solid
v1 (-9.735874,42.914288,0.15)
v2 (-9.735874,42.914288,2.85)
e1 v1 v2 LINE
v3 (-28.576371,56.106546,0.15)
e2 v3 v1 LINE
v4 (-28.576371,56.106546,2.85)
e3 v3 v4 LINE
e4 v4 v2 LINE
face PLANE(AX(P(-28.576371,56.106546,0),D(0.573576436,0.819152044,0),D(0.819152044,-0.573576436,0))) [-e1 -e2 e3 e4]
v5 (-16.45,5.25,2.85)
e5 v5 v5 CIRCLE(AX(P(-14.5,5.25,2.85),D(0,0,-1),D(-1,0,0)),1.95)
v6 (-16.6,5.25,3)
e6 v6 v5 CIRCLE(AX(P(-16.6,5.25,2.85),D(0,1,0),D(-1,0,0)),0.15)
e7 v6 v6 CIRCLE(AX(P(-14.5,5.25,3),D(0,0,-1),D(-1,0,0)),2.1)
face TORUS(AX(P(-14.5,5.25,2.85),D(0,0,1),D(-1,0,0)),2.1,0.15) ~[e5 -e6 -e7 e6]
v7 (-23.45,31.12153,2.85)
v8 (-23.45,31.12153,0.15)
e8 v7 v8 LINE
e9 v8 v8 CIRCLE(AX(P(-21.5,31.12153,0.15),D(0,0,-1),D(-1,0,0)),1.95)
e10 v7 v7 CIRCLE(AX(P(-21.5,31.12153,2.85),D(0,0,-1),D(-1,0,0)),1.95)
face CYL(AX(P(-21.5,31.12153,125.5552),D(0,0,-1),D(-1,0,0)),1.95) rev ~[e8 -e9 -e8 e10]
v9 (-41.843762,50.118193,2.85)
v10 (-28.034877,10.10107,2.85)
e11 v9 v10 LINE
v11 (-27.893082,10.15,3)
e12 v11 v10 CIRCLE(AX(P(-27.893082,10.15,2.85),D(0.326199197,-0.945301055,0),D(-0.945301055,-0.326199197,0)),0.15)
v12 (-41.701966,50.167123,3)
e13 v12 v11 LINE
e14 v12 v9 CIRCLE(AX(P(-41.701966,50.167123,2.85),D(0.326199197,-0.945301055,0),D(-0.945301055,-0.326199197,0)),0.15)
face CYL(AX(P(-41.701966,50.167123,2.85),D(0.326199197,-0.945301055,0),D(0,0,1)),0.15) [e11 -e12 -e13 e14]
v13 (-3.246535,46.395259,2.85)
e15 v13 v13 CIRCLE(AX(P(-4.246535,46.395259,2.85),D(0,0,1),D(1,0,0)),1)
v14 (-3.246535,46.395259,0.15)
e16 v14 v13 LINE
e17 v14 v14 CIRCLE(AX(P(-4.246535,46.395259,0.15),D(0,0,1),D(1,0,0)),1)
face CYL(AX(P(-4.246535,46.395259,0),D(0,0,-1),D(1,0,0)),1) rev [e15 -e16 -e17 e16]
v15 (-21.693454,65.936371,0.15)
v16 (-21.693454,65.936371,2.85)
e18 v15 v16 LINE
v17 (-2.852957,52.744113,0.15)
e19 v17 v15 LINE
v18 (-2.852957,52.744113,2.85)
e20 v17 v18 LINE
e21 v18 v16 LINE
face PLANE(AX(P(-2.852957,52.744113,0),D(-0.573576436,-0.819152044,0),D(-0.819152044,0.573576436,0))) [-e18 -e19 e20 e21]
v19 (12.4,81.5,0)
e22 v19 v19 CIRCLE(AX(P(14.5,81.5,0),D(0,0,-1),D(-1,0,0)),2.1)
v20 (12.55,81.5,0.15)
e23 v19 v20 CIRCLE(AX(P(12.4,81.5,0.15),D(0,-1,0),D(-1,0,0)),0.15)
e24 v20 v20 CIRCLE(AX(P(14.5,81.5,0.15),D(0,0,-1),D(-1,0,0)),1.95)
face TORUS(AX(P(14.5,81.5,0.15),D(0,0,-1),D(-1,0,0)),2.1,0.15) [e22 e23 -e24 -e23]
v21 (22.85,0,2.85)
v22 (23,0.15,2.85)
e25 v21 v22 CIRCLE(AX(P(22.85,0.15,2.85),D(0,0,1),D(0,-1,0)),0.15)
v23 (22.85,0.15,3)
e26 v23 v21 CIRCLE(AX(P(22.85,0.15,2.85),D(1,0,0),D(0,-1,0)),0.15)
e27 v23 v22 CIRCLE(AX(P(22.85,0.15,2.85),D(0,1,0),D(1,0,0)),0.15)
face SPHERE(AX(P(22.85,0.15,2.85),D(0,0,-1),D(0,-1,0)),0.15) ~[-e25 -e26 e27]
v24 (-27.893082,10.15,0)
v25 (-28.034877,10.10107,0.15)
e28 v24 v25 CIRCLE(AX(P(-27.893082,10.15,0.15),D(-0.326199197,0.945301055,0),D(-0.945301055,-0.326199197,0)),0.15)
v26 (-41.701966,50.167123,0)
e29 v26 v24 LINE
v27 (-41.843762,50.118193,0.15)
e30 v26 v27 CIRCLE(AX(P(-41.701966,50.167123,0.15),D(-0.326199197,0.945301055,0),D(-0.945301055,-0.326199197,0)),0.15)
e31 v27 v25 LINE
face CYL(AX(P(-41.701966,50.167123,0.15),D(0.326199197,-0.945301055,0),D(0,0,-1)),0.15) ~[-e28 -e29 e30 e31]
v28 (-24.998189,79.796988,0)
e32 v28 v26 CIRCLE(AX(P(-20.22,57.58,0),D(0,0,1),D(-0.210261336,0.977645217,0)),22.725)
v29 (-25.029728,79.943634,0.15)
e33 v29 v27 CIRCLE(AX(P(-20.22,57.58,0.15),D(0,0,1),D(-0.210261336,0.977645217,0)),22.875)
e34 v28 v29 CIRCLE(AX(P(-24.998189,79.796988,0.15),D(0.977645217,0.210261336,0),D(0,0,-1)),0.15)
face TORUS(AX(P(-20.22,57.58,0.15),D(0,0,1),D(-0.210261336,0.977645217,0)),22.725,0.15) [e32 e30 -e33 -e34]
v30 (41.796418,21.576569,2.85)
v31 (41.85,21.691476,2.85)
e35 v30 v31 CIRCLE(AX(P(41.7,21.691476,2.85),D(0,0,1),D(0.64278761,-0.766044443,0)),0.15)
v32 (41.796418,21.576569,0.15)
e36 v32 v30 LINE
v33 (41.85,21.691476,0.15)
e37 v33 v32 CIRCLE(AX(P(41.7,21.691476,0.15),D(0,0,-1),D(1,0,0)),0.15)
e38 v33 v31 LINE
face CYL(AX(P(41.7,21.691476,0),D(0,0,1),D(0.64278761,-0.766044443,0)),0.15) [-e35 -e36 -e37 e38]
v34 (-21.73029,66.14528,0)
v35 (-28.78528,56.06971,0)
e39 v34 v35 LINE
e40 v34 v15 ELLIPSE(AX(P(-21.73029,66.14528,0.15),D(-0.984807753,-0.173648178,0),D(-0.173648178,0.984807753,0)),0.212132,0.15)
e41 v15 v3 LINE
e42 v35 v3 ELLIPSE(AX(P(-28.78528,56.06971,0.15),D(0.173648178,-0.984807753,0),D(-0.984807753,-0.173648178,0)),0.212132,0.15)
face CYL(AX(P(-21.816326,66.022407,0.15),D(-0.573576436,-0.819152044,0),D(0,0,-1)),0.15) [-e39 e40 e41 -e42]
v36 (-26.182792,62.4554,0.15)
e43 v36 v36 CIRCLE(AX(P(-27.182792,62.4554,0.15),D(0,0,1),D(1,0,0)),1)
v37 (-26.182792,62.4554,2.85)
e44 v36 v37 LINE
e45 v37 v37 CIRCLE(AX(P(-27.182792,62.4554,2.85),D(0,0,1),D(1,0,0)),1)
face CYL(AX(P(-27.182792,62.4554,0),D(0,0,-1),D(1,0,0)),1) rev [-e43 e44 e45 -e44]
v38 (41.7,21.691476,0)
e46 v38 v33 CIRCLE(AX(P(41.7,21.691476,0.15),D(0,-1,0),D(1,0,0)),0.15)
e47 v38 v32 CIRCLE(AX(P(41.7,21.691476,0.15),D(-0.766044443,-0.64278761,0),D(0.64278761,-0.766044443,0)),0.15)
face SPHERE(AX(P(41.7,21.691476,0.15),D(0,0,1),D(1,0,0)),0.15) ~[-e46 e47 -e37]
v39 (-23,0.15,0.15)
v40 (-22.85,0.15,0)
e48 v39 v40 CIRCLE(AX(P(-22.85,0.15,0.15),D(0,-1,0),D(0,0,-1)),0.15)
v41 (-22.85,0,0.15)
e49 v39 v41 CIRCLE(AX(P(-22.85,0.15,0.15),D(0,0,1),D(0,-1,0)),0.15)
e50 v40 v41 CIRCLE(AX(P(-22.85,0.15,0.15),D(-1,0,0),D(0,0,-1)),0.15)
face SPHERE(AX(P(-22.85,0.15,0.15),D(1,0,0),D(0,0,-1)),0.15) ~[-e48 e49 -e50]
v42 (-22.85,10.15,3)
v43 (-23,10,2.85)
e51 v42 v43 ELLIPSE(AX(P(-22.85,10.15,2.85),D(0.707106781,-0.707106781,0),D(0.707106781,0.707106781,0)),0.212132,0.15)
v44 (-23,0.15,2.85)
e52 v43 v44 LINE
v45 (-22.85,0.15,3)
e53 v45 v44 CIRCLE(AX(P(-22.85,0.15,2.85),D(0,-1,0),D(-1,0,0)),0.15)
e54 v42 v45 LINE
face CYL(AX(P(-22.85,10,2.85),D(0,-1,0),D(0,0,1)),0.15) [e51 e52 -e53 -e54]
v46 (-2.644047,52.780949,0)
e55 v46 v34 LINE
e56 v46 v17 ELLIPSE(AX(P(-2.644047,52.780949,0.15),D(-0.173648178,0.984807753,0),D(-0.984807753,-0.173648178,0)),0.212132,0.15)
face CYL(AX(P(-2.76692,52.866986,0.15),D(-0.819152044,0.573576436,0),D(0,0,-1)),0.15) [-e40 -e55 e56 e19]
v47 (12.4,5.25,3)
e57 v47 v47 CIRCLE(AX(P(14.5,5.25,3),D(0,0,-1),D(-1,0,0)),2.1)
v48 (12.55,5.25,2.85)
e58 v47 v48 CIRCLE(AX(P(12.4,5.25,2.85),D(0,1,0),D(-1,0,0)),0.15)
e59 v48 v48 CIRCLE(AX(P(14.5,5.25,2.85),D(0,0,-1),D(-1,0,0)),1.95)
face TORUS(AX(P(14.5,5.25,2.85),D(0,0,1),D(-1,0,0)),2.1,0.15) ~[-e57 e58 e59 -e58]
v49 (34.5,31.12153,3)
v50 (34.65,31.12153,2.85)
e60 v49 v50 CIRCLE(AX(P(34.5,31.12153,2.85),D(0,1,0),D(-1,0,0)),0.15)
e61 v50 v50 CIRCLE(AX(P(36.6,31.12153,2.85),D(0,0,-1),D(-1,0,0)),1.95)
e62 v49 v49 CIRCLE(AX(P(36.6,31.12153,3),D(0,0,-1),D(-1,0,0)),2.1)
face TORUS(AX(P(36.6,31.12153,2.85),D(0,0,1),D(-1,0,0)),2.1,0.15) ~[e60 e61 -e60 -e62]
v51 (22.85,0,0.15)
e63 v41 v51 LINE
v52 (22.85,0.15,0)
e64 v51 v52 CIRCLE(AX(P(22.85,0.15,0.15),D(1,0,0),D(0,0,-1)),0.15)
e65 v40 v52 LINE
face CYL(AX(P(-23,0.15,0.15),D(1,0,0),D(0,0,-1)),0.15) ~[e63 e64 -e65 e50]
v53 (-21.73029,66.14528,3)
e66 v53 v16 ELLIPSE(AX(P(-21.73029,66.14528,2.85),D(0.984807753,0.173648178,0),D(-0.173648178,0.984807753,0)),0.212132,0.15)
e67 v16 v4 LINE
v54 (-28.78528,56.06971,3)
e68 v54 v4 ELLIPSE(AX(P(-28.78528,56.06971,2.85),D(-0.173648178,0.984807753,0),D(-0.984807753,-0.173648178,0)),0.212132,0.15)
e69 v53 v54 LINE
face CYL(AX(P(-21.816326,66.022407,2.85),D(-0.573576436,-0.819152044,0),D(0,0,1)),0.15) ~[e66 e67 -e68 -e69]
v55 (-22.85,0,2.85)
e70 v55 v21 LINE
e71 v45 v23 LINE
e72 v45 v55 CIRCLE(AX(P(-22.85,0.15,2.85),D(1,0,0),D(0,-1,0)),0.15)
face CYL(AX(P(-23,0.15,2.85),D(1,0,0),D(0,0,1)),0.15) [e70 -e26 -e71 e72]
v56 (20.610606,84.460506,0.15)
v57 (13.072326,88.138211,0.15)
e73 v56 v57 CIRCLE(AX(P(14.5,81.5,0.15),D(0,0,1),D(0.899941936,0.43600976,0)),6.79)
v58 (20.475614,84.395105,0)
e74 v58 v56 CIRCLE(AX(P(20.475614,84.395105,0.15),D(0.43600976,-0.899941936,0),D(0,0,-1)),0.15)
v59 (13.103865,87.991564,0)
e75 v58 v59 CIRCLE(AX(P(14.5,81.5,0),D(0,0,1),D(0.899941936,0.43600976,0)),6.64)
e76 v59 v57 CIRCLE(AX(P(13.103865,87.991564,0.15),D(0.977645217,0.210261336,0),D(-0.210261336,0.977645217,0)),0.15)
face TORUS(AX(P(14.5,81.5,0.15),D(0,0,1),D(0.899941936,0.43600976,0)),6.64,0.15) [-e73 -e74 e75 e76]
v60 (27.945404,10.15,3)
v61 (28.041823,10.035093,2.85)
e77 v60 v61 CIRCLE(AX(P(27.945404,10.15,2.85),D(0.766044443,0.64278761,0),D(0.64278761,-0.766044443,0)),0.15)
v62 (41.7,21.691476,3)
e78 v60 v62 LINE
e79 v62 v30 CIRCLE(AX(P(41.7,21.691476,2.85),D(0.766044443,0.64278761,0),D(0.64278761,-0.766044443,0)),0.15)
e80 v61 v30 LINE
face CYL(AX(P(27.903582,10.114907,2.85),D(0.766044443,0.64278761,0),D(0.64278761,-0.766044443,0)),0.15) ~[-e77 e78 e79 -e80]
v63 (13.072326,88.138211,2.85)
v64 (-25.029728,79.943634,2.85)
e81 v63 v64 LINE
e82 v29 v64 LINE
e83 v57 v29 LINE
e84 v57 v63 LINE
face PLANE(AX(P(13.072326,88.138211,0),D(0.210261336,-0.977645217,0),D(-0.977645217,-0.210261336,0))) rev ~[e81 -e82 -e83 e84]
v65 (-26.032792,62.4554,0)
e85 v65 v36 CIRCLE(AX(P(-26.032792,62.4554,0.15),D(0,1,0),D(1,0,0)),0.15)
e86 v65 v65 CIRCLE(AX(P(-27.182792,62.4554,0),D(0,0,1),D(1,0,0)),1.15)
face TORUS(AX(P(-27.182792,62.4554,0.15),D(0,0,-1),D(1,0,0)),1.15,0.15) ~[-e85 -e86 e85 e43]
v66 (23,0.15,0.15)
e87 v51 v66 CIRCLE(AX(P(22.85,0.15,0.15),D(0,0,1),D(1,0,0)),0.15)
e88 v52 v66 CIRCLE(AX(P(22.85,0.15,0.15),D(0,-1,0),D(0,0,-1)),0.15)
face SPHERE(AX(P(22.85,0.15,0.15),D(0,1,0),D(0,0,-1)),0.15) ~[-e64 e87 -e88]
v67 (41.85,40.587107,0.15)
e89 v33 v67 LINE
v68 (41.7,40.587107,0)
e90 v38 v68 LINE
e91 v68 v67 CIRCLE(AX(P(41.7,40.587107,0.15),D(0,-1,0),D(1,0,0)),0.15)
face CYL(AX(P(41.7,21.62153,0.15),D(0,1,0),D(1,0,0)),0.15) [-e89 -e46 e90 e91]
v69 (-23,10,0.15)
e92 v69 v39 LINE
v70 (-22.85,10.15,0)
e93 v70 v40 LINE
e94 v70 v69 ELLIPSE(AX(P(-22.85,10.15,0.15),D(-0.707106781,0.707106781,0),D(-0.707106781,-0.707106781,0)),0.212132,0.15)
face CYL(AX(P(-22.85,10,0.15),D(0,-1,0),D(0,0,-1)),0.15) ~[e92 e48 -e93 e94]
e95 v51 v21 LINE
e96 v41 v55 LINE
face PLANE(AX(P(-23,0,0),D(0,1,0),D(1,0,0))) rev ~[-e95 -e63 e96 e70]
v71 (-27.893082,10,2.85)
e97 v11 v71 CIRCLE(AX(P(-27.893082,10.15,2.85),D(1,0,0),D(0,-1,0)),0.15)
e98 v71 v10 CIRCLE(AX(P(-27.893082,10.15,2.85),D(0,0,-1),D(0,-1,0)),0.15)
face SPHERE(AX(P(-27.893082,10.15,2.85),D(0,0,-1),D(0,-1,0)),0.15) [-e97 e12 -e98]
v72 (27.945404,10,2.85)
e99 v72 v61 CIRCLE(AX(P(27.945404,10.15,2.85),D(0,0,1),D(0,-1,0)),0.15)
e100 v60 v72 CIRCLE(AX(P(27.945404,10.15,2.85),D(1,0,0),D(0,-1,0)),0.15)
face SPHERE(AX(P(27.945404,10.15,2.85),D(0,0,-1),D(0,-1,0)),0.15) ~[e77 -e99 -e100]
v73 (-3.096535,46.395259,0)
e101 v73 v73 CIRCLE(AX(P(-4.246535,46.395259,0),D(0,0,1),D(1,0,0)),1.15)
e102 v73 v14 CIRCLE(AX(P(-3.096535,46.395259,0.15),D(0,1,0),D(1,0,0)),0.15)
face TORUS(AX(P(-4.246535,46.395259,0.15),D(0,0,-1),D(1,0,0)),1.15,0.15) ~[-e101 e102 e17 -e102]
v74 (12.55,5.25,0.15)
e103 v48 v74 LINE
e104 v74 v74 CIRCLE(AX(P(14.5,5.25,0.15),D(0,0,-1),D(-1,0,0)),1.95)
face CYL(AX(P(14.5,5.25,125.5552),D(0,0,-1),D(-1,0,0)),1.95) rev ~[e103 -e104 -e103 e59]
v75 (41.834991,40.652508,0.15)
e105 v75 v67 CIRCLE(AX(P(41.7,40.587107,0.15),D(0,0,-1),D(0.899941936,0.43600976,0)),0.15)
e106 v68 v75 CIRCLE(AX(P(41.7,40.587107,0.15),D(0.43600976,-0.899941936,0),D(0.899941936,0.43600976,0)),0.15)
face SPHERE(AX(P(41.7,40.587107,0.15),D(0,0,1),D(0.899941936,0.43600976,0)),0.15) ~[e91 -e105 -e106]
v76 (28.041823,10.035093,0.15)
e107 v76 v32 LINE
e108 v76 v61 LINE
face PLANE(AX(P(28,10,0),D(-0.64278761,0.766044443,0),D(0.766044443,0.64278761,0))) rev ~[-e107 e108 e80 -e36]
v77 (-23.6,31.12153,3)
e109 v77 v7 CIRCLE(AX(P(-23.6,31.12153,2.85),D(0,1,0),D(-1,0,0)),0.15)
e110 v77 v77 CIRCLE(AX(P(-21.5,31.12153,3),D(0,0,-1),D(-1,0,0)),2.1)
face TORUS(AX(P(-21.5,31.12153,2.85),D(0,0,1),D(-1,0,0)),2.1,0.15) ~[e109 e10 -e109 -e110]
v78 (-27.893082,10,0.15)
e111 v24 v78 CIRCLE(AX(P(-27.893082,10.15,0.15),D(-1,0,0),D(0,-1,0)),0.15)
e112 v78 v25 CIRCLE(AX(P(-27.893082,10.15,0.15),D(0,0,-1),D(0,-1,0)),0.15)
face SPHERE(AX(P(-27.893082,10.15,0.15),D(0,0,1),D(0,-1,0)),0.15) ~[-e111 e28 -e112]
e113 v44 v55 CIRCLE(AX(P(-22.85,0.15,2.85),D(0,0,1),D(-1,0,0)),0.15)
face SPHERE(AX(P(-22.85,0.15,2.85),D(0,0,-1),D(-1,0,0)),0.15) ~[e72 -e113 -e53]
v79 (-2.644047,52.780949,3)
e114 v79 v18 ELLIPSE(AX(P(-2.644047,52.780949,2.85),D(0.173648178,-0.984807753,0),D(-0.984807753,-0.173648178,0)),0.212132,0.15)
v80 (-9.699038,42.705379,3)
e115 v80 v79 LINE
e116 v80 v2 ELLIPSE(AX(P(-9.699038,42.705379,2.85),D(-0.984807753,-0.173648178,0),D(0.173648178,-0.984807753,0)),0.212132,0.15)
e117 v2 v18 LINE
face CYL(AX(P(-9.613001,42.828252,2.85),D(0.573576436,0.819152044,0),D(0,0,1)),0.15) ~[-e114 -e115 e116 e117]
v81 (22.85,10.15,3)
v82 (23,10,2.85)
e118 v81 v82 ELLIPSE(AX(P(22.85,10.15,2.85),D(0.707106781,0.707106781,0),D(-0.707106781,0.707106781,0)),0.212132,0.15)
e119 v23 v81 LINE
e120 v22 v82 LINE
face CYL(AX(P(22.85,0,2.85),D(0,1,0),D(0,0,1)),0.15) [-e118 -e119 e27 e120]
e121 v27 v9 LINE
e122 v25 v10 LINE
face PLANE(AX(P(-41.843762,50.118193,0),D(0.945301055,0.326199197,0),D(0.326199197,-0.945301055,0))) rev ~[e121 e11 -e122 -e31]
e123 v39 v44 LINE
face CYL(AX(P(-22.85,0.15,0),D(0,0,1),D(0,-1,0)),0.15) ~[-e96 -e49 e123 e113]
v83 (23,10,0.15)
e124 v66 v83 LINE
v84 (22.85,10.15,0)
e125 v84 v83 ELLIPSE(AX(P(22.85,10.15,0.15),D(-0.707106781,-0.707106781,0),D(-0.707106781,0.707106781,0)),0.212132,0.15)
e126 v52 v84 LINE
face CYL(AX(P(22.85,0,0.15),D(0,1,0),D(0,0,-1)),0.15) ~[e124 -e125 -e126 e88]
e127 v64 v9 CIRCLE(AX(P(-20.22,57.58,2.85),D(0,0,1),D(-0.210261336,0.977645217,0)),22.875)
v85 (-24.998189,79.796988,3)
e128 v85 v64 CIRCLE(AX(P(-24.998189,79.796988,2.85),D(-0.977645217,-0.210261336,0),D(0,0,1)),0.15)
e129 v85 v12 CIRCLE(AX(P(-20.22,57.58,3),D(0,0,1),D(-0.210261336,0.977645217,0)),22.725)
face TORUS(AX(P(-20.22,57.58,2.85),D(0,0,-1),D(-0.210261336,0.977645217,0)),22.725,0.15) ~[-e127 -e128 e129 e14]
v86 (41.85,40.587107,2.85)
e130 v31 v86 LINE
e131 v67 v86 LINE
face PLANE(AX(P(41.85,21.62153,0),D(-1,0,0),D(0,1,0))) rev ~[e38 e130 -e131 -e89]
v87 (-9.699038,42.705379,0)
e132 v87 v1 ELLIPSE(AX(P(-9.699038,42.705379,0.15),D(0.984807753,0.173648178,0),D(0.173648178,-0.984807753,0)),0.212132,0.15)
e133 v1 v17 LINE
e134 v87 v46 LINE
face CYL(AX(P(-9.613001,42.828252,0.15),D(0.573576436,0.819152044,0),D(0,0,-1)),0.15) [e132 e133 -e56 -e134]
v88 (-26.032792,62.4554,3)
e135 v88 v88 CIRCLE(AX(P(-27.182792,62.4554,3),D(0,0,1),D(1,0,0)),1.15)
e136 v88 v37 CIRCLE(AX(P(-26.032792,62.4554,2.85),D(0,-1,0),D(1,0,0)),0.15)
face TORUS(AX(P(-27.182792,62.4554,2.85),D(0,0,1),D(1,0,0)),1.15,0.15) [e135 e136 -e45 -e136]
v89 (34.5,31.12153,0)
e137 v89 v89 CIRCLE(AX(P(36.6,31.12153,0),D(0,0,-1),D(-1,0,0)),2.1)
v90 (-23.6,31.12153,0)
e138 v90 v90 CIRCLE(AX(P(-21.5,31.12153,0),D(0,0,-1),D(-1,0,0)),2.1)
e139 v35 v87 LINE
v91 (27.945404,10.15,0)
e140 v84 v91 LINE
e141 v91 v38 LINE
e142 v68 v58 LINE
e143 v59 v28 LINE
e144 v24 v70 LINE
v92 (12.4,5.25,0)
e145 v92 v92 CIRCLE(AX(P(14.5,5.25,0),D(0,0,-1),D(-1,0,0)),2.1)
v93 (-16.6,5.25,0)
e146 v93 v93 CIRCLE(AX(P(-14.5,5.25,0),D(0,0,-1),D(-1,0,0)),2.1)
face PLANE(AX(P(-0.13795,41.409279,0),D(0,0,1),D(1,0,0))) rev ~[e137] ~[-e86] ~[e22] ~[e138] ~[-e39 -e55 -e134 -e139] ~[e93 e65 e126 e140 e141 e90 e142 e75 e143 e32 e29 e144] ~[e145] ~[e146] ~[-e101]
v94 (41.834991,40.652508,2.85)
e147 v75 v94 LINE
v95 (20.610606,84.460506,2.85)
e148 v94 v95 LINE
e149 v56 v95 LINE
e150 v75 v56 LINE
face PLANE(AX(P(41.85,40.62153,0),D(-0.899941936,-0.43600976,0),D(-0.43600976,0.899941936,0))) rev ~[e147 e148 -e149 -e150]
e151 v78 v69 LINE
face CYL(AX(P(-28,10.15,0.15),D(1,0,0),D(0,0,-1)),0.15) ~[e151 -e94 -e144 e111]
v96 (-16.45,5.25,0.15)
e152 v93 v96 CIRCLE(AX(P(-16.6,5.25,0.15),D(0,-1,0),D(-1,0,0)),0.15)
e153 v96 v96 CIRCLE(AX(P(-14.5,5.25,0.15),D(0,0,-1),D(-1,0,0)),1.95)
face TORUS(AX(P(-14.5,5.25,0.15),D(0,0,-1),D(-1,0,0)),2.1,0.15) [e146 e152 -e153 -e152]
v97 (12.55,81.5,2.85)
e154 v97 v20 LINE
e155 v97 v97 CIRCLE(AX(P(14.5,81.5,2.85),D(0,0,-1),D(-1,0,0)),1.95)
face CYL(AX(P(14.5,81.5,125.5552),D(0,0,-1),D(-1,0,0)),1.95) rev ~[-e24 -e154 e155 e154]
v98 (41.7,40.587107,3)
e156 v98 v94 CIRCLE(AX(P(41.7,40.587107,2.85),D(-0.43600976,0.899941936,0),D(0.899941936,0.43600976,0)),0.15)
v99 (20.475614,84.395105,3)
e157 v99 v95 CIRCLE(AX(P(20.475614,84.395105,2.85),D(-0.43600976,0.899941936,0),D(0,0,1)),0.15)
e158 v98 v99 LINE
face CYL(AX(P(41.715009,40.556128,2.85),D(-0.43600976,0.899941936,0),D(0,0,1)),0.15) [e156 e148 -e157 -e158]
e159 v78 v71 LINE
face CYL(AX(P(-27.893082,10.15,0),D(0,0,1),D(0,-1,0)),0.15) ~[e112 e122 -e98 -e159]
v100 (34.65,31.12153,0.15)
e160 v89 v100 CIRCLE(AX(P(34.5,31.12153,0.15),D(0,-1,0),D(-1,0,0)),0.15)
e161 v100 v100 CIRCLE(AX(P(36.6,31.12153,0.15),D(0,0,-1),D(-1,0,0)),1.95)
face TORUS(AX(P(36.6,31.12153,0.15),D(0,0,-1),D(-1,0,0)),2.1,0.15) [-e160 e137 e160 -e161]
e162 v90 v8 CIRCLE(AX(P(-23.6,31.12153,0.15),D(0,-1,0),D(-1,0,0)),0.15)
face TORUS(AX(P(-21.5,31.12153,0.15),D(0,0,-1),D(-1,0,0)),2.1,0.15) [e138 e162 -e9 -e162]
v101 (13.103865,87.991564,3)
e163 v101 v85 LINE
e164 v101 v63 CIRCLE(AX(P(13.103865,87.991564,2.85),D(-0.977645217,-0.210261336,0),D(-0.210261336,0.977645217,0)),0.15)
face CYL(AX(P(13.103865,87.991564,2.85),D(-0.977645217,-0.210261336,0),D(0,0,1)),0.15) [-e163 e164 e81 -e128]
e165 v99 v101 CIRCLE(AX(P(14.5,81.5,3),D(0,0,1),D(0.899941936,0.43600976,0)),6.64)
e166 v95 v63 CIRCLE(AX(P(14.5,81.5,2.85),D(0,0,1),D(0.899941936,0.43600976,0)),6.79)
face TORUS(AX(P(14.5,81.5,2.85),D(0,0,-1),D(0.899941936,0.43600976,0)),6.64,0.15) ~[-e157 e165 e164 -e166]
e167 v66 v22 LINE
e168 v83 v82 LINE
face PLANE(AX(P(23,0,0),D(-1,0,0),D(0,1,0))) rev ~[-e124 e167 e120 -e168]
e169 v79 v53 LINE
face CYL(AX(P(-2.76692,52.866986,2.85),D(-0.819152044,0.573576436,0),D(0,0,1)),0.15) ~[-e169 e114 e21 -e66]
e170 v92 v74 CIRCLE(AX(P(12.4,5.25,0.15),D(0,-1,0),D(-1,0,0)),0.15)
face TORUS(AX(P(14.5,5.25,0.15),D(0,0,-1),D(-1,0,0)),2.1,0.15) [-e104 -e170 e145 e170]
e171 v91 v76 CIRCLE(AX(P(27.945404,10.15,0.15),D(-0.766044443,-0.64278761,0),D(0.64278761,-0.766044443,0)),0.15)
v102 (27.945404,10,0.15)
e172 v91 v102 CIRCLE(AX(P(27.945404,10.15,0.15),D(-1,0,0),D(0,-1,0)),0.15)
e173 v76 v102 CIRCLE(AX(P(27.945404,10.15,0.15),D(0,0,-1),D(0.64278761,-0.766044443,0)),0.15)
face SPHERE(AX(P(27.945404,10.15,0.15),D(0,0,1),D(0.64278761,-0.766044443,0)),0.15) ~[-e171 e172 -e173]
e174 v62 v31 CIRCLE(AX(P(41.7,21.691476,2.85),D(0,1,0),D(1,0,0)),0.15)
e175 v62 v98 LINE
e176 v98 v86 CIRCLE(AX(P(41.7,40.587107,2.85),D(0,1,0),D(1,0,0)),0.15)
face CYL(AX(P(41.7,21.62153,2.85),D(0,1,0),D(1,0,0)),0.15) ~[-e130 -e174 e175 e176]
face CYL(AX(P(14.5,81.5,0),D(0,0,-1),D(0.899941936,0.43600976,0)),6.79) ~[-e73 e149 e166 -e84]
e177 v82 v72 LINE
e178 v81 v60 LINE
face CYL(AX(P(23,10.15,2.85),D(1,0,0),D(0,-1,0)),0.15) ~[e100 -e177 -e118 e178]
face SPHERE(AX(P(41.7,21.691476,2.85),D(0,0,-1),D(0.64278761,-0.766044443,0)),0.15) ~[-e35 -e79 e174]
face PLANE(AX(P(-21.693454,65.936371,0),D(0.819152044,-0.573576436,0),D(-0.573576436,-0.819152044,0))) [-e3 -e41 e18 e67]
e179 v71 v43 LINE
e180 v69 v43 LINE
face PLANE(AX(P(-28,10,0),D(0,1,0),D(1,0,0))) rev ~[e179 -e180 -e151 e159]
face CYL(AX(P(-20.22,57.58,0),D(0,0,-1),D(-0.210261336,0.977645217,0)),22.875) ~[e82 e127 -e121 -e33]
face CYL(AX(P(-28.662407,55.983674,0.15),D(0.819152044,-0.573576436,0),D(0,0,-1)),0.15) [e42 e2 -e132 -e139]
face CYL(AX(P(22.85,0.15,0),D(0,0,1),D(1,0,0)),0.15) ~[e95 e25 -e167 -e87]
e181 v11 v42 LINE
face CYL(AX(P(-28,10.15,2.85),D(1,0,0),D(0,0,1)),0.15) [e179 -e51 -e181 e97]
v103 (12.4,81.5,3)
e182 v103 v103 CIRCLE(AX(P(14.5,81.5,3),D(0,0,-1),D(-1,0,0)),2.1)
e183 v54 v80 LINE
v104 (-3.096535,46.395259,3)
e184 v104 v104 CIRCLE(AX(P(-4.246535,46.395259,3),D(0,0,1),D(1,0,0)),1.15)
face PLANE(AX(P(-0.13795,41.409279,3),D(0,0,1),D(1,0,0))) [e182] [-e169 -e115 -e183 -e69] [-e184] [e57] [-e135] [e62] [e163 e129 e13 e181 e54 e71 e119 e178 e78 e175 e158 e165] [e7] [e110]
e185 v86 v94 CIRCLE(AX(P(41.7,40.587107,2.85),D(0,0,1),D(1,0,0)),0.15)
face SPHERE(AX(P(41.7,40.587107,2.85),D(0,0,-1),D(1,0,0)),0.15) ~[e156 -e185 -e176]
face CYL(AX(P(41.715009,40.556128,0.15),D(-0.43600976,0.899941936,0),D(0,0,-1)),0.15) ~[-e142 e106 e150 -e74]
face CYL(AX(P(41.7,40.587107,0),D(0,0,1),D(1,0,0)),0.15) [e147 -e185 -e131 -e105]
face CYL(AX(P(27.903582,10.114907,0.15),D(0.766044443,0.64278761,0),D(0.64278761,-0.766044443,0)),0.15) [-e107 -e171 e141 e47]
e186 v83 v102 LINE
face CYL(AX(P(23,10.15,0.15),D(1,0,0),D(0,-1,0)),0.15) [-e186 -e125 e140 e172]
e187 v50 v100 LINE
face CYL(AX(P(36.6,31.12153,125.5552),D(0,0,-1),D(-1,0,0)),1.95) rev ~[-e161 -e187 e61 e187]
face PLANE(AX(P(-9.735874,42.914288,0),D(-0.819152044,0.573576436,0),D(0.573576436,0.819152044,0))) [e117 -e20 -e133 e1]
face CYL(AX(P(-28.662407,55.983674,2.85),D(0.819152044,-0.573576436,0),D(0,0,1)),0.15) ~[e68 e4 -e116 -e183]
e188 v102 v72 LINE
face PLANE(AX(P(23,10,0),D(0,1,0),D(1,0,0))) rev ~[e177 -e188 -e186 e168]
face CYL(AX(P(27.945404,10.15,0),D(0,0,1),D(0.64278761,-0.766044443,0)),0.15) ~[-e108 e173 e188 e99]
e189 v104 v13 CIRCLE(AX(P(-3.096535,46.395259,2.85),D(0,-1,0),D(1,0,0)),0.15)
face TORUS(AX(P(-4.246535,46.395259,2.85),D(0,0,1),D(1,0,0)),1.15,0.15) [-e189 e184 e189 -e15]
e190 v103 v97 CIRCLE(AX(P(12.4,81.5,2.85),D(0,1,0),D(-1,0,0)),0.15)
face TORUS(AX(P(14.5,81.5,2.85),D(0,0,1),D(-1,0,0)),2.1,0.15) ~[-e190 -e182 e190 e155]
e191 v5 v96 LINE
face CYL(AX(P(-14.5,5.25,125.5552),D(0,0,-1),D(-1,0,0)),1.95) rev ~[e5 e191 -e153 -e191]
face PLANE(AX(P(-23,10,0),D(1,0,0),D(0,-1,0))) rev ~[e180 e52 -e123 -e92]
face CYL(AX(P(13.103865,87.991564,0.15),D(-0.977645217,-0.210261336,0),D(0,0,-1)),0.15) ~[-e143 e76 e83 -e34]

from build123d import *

# Parameters (mm, degrees)
SZKIC1_R                    = 1
DODANIE_WYCI_GNI_CIE1_DEPTH = 3
OTW_R_POD_RUB_M3_51_D       = 3.9
ZAOKR_GLENIE1_R             = 0.15


with BuildPart() as part:
    # Szkic1 → Dodanie-wyciągnięcie1 (new body)
    with BuildSketch(Plane.XY):
        with BuildLine():
            Line((28, 10), (41.85, 21.621529892))
            Line((41.85, 21.621529892), (41.85, 40.621529892))
            Line((41.85, 40.621529892), (20.610605748, 84.460506273))
            ThreePointArc((20.610605748, 84.460506273), (17.477220077, 87.602479874), (13.072325527, 88.138211024))
            Line((13.072325527, 88.138211024), (-25.029728066, 79.943634341))
            ThreePointArc((-25.029728066, 79.943634341), (-40.146654928, 68.813612437), (-41.843761624, 50.118193368))
            Line((-41.843761624, 50.118193368), (-28, 10))
            Line((-28, 10), (-23, 10))
            Line((-23, 10), (-23, 0))
            Line((-23, 0), (23, 0))
            Line((23, 0), (23, 10))
            Line((23, 10), (28, 10))
        make_face()
        with Locations((-27.182792376, 62.455399709)):
            Circle(SZKIC1_R, mode=Mode.SUBTRACT)
        with Locations((-4.246535136, 46.395259491)):
            Circle(SZKIC1_R, mode=Mode.SUBTRACT)
        Polygon((-21.693453648, 65.936370884), (-28.576370884, 56.106546352), (-9.735873865, 42.914288316), (-2.852956629, 52.744112848), align=None, mode=Mode.SUBTRACT)
    extrude(amount=DODANIE_WYCI_GNI_CIE1_DEPTH)

    # Otwór pod śrubę M3.51 (through all)
    with Locations(Plane.XY.offset(3)):
        with Locations((14.5, 81.5), (36.6, 31.121529892), (-21.5, 31.121529892), (14.5, 5.25), (-14.5, 5.25)):
            Hole(OTW_R_POD_RUB_M3_51_D / 2)

    # Zaokrąglenie1
    zaokr_glenie1_edges = [part.edges().sort_by_distance(p)[0] for p in [
        (41.85, 31.121529892, 3),
        (23, 5, 0),
        (0, 0, 0),
        (-23, 5, 0),
        (-25.5, 10, 0),
        (-34.921880812, 30.059096684, 0),
        (-40.146654928, 68.813612437, 0),
        (31.230302874, 62.541018083, 3),
        (-5.978701269, 84.040922682, 0),
        (17.477220077, 87.602479874, 0),
        (31.230302874, 62.541018083, 0),
        (41.85, 31.121529892, 0),
        (34.925, 15.810764946, 0),
        (25.5, 10, 0),
        (17.477220077, 87.602479874, 3),
        (-5.978701269, 84.040922682, 3),
        (23, 0, 1.5),
        (-23, 0, 1.5),
        (-28, 10, 1.5),
        (41.85, 40.621529892, 1.5),
        (41.85, 21.621529892, 1.5),
        (28, 10, 1.5),
        (-40.146654928, 68.813612437, 3),
        (-34.921880812, 30.059096684, 3),
        (-25.5, 10, 3),
        (-23, 5, 3),
        (-12.273205138, 59.340241866, 0),
        (-25.134912266, 61.021458618, 0),
        (-19.156122375, 49.510417334, 0),
        (-6.294415247, 47.829200582, 0),
        (0, 0, 3),
        (-12.273205138, 59.340241866, 3),
        (-25.134912266, 61.021458618, 3),
        (-19.156122375, 49.510417334, 3),
        (-6.294415247, 47.829200582, 3),
        (23, 5, 3),
        (25.5, 10, 3),
        (-28.182792376, 62.455399709, 0),
        (-28.182792376, 62.455399709, 3),
        (-5.246535136, 46.395259491, 0),
        (-5.246535136, 46.395259491, 3),
        (-12.55, 5.25, 3),
        (-12.55, 5.25, 0),
        (16.45, 5.25, 3),
        (16.45, 5.25, 0),
        (-19.55, 31.121529892, 3),
        (-19.55, 31.121529892, 0),
        (34.925, 15.810764946, 3),
        (38.55, 31.121529892, 3),
        (38.55, 31.121529892, 0),
        (16.45, 81.5, 3),
        (16.45, 81.5, 0),
    ]]
    fillet(zaokr_glenie1_edges, radius=ZAOKR_GLENIE1_R)


solid = part.part
